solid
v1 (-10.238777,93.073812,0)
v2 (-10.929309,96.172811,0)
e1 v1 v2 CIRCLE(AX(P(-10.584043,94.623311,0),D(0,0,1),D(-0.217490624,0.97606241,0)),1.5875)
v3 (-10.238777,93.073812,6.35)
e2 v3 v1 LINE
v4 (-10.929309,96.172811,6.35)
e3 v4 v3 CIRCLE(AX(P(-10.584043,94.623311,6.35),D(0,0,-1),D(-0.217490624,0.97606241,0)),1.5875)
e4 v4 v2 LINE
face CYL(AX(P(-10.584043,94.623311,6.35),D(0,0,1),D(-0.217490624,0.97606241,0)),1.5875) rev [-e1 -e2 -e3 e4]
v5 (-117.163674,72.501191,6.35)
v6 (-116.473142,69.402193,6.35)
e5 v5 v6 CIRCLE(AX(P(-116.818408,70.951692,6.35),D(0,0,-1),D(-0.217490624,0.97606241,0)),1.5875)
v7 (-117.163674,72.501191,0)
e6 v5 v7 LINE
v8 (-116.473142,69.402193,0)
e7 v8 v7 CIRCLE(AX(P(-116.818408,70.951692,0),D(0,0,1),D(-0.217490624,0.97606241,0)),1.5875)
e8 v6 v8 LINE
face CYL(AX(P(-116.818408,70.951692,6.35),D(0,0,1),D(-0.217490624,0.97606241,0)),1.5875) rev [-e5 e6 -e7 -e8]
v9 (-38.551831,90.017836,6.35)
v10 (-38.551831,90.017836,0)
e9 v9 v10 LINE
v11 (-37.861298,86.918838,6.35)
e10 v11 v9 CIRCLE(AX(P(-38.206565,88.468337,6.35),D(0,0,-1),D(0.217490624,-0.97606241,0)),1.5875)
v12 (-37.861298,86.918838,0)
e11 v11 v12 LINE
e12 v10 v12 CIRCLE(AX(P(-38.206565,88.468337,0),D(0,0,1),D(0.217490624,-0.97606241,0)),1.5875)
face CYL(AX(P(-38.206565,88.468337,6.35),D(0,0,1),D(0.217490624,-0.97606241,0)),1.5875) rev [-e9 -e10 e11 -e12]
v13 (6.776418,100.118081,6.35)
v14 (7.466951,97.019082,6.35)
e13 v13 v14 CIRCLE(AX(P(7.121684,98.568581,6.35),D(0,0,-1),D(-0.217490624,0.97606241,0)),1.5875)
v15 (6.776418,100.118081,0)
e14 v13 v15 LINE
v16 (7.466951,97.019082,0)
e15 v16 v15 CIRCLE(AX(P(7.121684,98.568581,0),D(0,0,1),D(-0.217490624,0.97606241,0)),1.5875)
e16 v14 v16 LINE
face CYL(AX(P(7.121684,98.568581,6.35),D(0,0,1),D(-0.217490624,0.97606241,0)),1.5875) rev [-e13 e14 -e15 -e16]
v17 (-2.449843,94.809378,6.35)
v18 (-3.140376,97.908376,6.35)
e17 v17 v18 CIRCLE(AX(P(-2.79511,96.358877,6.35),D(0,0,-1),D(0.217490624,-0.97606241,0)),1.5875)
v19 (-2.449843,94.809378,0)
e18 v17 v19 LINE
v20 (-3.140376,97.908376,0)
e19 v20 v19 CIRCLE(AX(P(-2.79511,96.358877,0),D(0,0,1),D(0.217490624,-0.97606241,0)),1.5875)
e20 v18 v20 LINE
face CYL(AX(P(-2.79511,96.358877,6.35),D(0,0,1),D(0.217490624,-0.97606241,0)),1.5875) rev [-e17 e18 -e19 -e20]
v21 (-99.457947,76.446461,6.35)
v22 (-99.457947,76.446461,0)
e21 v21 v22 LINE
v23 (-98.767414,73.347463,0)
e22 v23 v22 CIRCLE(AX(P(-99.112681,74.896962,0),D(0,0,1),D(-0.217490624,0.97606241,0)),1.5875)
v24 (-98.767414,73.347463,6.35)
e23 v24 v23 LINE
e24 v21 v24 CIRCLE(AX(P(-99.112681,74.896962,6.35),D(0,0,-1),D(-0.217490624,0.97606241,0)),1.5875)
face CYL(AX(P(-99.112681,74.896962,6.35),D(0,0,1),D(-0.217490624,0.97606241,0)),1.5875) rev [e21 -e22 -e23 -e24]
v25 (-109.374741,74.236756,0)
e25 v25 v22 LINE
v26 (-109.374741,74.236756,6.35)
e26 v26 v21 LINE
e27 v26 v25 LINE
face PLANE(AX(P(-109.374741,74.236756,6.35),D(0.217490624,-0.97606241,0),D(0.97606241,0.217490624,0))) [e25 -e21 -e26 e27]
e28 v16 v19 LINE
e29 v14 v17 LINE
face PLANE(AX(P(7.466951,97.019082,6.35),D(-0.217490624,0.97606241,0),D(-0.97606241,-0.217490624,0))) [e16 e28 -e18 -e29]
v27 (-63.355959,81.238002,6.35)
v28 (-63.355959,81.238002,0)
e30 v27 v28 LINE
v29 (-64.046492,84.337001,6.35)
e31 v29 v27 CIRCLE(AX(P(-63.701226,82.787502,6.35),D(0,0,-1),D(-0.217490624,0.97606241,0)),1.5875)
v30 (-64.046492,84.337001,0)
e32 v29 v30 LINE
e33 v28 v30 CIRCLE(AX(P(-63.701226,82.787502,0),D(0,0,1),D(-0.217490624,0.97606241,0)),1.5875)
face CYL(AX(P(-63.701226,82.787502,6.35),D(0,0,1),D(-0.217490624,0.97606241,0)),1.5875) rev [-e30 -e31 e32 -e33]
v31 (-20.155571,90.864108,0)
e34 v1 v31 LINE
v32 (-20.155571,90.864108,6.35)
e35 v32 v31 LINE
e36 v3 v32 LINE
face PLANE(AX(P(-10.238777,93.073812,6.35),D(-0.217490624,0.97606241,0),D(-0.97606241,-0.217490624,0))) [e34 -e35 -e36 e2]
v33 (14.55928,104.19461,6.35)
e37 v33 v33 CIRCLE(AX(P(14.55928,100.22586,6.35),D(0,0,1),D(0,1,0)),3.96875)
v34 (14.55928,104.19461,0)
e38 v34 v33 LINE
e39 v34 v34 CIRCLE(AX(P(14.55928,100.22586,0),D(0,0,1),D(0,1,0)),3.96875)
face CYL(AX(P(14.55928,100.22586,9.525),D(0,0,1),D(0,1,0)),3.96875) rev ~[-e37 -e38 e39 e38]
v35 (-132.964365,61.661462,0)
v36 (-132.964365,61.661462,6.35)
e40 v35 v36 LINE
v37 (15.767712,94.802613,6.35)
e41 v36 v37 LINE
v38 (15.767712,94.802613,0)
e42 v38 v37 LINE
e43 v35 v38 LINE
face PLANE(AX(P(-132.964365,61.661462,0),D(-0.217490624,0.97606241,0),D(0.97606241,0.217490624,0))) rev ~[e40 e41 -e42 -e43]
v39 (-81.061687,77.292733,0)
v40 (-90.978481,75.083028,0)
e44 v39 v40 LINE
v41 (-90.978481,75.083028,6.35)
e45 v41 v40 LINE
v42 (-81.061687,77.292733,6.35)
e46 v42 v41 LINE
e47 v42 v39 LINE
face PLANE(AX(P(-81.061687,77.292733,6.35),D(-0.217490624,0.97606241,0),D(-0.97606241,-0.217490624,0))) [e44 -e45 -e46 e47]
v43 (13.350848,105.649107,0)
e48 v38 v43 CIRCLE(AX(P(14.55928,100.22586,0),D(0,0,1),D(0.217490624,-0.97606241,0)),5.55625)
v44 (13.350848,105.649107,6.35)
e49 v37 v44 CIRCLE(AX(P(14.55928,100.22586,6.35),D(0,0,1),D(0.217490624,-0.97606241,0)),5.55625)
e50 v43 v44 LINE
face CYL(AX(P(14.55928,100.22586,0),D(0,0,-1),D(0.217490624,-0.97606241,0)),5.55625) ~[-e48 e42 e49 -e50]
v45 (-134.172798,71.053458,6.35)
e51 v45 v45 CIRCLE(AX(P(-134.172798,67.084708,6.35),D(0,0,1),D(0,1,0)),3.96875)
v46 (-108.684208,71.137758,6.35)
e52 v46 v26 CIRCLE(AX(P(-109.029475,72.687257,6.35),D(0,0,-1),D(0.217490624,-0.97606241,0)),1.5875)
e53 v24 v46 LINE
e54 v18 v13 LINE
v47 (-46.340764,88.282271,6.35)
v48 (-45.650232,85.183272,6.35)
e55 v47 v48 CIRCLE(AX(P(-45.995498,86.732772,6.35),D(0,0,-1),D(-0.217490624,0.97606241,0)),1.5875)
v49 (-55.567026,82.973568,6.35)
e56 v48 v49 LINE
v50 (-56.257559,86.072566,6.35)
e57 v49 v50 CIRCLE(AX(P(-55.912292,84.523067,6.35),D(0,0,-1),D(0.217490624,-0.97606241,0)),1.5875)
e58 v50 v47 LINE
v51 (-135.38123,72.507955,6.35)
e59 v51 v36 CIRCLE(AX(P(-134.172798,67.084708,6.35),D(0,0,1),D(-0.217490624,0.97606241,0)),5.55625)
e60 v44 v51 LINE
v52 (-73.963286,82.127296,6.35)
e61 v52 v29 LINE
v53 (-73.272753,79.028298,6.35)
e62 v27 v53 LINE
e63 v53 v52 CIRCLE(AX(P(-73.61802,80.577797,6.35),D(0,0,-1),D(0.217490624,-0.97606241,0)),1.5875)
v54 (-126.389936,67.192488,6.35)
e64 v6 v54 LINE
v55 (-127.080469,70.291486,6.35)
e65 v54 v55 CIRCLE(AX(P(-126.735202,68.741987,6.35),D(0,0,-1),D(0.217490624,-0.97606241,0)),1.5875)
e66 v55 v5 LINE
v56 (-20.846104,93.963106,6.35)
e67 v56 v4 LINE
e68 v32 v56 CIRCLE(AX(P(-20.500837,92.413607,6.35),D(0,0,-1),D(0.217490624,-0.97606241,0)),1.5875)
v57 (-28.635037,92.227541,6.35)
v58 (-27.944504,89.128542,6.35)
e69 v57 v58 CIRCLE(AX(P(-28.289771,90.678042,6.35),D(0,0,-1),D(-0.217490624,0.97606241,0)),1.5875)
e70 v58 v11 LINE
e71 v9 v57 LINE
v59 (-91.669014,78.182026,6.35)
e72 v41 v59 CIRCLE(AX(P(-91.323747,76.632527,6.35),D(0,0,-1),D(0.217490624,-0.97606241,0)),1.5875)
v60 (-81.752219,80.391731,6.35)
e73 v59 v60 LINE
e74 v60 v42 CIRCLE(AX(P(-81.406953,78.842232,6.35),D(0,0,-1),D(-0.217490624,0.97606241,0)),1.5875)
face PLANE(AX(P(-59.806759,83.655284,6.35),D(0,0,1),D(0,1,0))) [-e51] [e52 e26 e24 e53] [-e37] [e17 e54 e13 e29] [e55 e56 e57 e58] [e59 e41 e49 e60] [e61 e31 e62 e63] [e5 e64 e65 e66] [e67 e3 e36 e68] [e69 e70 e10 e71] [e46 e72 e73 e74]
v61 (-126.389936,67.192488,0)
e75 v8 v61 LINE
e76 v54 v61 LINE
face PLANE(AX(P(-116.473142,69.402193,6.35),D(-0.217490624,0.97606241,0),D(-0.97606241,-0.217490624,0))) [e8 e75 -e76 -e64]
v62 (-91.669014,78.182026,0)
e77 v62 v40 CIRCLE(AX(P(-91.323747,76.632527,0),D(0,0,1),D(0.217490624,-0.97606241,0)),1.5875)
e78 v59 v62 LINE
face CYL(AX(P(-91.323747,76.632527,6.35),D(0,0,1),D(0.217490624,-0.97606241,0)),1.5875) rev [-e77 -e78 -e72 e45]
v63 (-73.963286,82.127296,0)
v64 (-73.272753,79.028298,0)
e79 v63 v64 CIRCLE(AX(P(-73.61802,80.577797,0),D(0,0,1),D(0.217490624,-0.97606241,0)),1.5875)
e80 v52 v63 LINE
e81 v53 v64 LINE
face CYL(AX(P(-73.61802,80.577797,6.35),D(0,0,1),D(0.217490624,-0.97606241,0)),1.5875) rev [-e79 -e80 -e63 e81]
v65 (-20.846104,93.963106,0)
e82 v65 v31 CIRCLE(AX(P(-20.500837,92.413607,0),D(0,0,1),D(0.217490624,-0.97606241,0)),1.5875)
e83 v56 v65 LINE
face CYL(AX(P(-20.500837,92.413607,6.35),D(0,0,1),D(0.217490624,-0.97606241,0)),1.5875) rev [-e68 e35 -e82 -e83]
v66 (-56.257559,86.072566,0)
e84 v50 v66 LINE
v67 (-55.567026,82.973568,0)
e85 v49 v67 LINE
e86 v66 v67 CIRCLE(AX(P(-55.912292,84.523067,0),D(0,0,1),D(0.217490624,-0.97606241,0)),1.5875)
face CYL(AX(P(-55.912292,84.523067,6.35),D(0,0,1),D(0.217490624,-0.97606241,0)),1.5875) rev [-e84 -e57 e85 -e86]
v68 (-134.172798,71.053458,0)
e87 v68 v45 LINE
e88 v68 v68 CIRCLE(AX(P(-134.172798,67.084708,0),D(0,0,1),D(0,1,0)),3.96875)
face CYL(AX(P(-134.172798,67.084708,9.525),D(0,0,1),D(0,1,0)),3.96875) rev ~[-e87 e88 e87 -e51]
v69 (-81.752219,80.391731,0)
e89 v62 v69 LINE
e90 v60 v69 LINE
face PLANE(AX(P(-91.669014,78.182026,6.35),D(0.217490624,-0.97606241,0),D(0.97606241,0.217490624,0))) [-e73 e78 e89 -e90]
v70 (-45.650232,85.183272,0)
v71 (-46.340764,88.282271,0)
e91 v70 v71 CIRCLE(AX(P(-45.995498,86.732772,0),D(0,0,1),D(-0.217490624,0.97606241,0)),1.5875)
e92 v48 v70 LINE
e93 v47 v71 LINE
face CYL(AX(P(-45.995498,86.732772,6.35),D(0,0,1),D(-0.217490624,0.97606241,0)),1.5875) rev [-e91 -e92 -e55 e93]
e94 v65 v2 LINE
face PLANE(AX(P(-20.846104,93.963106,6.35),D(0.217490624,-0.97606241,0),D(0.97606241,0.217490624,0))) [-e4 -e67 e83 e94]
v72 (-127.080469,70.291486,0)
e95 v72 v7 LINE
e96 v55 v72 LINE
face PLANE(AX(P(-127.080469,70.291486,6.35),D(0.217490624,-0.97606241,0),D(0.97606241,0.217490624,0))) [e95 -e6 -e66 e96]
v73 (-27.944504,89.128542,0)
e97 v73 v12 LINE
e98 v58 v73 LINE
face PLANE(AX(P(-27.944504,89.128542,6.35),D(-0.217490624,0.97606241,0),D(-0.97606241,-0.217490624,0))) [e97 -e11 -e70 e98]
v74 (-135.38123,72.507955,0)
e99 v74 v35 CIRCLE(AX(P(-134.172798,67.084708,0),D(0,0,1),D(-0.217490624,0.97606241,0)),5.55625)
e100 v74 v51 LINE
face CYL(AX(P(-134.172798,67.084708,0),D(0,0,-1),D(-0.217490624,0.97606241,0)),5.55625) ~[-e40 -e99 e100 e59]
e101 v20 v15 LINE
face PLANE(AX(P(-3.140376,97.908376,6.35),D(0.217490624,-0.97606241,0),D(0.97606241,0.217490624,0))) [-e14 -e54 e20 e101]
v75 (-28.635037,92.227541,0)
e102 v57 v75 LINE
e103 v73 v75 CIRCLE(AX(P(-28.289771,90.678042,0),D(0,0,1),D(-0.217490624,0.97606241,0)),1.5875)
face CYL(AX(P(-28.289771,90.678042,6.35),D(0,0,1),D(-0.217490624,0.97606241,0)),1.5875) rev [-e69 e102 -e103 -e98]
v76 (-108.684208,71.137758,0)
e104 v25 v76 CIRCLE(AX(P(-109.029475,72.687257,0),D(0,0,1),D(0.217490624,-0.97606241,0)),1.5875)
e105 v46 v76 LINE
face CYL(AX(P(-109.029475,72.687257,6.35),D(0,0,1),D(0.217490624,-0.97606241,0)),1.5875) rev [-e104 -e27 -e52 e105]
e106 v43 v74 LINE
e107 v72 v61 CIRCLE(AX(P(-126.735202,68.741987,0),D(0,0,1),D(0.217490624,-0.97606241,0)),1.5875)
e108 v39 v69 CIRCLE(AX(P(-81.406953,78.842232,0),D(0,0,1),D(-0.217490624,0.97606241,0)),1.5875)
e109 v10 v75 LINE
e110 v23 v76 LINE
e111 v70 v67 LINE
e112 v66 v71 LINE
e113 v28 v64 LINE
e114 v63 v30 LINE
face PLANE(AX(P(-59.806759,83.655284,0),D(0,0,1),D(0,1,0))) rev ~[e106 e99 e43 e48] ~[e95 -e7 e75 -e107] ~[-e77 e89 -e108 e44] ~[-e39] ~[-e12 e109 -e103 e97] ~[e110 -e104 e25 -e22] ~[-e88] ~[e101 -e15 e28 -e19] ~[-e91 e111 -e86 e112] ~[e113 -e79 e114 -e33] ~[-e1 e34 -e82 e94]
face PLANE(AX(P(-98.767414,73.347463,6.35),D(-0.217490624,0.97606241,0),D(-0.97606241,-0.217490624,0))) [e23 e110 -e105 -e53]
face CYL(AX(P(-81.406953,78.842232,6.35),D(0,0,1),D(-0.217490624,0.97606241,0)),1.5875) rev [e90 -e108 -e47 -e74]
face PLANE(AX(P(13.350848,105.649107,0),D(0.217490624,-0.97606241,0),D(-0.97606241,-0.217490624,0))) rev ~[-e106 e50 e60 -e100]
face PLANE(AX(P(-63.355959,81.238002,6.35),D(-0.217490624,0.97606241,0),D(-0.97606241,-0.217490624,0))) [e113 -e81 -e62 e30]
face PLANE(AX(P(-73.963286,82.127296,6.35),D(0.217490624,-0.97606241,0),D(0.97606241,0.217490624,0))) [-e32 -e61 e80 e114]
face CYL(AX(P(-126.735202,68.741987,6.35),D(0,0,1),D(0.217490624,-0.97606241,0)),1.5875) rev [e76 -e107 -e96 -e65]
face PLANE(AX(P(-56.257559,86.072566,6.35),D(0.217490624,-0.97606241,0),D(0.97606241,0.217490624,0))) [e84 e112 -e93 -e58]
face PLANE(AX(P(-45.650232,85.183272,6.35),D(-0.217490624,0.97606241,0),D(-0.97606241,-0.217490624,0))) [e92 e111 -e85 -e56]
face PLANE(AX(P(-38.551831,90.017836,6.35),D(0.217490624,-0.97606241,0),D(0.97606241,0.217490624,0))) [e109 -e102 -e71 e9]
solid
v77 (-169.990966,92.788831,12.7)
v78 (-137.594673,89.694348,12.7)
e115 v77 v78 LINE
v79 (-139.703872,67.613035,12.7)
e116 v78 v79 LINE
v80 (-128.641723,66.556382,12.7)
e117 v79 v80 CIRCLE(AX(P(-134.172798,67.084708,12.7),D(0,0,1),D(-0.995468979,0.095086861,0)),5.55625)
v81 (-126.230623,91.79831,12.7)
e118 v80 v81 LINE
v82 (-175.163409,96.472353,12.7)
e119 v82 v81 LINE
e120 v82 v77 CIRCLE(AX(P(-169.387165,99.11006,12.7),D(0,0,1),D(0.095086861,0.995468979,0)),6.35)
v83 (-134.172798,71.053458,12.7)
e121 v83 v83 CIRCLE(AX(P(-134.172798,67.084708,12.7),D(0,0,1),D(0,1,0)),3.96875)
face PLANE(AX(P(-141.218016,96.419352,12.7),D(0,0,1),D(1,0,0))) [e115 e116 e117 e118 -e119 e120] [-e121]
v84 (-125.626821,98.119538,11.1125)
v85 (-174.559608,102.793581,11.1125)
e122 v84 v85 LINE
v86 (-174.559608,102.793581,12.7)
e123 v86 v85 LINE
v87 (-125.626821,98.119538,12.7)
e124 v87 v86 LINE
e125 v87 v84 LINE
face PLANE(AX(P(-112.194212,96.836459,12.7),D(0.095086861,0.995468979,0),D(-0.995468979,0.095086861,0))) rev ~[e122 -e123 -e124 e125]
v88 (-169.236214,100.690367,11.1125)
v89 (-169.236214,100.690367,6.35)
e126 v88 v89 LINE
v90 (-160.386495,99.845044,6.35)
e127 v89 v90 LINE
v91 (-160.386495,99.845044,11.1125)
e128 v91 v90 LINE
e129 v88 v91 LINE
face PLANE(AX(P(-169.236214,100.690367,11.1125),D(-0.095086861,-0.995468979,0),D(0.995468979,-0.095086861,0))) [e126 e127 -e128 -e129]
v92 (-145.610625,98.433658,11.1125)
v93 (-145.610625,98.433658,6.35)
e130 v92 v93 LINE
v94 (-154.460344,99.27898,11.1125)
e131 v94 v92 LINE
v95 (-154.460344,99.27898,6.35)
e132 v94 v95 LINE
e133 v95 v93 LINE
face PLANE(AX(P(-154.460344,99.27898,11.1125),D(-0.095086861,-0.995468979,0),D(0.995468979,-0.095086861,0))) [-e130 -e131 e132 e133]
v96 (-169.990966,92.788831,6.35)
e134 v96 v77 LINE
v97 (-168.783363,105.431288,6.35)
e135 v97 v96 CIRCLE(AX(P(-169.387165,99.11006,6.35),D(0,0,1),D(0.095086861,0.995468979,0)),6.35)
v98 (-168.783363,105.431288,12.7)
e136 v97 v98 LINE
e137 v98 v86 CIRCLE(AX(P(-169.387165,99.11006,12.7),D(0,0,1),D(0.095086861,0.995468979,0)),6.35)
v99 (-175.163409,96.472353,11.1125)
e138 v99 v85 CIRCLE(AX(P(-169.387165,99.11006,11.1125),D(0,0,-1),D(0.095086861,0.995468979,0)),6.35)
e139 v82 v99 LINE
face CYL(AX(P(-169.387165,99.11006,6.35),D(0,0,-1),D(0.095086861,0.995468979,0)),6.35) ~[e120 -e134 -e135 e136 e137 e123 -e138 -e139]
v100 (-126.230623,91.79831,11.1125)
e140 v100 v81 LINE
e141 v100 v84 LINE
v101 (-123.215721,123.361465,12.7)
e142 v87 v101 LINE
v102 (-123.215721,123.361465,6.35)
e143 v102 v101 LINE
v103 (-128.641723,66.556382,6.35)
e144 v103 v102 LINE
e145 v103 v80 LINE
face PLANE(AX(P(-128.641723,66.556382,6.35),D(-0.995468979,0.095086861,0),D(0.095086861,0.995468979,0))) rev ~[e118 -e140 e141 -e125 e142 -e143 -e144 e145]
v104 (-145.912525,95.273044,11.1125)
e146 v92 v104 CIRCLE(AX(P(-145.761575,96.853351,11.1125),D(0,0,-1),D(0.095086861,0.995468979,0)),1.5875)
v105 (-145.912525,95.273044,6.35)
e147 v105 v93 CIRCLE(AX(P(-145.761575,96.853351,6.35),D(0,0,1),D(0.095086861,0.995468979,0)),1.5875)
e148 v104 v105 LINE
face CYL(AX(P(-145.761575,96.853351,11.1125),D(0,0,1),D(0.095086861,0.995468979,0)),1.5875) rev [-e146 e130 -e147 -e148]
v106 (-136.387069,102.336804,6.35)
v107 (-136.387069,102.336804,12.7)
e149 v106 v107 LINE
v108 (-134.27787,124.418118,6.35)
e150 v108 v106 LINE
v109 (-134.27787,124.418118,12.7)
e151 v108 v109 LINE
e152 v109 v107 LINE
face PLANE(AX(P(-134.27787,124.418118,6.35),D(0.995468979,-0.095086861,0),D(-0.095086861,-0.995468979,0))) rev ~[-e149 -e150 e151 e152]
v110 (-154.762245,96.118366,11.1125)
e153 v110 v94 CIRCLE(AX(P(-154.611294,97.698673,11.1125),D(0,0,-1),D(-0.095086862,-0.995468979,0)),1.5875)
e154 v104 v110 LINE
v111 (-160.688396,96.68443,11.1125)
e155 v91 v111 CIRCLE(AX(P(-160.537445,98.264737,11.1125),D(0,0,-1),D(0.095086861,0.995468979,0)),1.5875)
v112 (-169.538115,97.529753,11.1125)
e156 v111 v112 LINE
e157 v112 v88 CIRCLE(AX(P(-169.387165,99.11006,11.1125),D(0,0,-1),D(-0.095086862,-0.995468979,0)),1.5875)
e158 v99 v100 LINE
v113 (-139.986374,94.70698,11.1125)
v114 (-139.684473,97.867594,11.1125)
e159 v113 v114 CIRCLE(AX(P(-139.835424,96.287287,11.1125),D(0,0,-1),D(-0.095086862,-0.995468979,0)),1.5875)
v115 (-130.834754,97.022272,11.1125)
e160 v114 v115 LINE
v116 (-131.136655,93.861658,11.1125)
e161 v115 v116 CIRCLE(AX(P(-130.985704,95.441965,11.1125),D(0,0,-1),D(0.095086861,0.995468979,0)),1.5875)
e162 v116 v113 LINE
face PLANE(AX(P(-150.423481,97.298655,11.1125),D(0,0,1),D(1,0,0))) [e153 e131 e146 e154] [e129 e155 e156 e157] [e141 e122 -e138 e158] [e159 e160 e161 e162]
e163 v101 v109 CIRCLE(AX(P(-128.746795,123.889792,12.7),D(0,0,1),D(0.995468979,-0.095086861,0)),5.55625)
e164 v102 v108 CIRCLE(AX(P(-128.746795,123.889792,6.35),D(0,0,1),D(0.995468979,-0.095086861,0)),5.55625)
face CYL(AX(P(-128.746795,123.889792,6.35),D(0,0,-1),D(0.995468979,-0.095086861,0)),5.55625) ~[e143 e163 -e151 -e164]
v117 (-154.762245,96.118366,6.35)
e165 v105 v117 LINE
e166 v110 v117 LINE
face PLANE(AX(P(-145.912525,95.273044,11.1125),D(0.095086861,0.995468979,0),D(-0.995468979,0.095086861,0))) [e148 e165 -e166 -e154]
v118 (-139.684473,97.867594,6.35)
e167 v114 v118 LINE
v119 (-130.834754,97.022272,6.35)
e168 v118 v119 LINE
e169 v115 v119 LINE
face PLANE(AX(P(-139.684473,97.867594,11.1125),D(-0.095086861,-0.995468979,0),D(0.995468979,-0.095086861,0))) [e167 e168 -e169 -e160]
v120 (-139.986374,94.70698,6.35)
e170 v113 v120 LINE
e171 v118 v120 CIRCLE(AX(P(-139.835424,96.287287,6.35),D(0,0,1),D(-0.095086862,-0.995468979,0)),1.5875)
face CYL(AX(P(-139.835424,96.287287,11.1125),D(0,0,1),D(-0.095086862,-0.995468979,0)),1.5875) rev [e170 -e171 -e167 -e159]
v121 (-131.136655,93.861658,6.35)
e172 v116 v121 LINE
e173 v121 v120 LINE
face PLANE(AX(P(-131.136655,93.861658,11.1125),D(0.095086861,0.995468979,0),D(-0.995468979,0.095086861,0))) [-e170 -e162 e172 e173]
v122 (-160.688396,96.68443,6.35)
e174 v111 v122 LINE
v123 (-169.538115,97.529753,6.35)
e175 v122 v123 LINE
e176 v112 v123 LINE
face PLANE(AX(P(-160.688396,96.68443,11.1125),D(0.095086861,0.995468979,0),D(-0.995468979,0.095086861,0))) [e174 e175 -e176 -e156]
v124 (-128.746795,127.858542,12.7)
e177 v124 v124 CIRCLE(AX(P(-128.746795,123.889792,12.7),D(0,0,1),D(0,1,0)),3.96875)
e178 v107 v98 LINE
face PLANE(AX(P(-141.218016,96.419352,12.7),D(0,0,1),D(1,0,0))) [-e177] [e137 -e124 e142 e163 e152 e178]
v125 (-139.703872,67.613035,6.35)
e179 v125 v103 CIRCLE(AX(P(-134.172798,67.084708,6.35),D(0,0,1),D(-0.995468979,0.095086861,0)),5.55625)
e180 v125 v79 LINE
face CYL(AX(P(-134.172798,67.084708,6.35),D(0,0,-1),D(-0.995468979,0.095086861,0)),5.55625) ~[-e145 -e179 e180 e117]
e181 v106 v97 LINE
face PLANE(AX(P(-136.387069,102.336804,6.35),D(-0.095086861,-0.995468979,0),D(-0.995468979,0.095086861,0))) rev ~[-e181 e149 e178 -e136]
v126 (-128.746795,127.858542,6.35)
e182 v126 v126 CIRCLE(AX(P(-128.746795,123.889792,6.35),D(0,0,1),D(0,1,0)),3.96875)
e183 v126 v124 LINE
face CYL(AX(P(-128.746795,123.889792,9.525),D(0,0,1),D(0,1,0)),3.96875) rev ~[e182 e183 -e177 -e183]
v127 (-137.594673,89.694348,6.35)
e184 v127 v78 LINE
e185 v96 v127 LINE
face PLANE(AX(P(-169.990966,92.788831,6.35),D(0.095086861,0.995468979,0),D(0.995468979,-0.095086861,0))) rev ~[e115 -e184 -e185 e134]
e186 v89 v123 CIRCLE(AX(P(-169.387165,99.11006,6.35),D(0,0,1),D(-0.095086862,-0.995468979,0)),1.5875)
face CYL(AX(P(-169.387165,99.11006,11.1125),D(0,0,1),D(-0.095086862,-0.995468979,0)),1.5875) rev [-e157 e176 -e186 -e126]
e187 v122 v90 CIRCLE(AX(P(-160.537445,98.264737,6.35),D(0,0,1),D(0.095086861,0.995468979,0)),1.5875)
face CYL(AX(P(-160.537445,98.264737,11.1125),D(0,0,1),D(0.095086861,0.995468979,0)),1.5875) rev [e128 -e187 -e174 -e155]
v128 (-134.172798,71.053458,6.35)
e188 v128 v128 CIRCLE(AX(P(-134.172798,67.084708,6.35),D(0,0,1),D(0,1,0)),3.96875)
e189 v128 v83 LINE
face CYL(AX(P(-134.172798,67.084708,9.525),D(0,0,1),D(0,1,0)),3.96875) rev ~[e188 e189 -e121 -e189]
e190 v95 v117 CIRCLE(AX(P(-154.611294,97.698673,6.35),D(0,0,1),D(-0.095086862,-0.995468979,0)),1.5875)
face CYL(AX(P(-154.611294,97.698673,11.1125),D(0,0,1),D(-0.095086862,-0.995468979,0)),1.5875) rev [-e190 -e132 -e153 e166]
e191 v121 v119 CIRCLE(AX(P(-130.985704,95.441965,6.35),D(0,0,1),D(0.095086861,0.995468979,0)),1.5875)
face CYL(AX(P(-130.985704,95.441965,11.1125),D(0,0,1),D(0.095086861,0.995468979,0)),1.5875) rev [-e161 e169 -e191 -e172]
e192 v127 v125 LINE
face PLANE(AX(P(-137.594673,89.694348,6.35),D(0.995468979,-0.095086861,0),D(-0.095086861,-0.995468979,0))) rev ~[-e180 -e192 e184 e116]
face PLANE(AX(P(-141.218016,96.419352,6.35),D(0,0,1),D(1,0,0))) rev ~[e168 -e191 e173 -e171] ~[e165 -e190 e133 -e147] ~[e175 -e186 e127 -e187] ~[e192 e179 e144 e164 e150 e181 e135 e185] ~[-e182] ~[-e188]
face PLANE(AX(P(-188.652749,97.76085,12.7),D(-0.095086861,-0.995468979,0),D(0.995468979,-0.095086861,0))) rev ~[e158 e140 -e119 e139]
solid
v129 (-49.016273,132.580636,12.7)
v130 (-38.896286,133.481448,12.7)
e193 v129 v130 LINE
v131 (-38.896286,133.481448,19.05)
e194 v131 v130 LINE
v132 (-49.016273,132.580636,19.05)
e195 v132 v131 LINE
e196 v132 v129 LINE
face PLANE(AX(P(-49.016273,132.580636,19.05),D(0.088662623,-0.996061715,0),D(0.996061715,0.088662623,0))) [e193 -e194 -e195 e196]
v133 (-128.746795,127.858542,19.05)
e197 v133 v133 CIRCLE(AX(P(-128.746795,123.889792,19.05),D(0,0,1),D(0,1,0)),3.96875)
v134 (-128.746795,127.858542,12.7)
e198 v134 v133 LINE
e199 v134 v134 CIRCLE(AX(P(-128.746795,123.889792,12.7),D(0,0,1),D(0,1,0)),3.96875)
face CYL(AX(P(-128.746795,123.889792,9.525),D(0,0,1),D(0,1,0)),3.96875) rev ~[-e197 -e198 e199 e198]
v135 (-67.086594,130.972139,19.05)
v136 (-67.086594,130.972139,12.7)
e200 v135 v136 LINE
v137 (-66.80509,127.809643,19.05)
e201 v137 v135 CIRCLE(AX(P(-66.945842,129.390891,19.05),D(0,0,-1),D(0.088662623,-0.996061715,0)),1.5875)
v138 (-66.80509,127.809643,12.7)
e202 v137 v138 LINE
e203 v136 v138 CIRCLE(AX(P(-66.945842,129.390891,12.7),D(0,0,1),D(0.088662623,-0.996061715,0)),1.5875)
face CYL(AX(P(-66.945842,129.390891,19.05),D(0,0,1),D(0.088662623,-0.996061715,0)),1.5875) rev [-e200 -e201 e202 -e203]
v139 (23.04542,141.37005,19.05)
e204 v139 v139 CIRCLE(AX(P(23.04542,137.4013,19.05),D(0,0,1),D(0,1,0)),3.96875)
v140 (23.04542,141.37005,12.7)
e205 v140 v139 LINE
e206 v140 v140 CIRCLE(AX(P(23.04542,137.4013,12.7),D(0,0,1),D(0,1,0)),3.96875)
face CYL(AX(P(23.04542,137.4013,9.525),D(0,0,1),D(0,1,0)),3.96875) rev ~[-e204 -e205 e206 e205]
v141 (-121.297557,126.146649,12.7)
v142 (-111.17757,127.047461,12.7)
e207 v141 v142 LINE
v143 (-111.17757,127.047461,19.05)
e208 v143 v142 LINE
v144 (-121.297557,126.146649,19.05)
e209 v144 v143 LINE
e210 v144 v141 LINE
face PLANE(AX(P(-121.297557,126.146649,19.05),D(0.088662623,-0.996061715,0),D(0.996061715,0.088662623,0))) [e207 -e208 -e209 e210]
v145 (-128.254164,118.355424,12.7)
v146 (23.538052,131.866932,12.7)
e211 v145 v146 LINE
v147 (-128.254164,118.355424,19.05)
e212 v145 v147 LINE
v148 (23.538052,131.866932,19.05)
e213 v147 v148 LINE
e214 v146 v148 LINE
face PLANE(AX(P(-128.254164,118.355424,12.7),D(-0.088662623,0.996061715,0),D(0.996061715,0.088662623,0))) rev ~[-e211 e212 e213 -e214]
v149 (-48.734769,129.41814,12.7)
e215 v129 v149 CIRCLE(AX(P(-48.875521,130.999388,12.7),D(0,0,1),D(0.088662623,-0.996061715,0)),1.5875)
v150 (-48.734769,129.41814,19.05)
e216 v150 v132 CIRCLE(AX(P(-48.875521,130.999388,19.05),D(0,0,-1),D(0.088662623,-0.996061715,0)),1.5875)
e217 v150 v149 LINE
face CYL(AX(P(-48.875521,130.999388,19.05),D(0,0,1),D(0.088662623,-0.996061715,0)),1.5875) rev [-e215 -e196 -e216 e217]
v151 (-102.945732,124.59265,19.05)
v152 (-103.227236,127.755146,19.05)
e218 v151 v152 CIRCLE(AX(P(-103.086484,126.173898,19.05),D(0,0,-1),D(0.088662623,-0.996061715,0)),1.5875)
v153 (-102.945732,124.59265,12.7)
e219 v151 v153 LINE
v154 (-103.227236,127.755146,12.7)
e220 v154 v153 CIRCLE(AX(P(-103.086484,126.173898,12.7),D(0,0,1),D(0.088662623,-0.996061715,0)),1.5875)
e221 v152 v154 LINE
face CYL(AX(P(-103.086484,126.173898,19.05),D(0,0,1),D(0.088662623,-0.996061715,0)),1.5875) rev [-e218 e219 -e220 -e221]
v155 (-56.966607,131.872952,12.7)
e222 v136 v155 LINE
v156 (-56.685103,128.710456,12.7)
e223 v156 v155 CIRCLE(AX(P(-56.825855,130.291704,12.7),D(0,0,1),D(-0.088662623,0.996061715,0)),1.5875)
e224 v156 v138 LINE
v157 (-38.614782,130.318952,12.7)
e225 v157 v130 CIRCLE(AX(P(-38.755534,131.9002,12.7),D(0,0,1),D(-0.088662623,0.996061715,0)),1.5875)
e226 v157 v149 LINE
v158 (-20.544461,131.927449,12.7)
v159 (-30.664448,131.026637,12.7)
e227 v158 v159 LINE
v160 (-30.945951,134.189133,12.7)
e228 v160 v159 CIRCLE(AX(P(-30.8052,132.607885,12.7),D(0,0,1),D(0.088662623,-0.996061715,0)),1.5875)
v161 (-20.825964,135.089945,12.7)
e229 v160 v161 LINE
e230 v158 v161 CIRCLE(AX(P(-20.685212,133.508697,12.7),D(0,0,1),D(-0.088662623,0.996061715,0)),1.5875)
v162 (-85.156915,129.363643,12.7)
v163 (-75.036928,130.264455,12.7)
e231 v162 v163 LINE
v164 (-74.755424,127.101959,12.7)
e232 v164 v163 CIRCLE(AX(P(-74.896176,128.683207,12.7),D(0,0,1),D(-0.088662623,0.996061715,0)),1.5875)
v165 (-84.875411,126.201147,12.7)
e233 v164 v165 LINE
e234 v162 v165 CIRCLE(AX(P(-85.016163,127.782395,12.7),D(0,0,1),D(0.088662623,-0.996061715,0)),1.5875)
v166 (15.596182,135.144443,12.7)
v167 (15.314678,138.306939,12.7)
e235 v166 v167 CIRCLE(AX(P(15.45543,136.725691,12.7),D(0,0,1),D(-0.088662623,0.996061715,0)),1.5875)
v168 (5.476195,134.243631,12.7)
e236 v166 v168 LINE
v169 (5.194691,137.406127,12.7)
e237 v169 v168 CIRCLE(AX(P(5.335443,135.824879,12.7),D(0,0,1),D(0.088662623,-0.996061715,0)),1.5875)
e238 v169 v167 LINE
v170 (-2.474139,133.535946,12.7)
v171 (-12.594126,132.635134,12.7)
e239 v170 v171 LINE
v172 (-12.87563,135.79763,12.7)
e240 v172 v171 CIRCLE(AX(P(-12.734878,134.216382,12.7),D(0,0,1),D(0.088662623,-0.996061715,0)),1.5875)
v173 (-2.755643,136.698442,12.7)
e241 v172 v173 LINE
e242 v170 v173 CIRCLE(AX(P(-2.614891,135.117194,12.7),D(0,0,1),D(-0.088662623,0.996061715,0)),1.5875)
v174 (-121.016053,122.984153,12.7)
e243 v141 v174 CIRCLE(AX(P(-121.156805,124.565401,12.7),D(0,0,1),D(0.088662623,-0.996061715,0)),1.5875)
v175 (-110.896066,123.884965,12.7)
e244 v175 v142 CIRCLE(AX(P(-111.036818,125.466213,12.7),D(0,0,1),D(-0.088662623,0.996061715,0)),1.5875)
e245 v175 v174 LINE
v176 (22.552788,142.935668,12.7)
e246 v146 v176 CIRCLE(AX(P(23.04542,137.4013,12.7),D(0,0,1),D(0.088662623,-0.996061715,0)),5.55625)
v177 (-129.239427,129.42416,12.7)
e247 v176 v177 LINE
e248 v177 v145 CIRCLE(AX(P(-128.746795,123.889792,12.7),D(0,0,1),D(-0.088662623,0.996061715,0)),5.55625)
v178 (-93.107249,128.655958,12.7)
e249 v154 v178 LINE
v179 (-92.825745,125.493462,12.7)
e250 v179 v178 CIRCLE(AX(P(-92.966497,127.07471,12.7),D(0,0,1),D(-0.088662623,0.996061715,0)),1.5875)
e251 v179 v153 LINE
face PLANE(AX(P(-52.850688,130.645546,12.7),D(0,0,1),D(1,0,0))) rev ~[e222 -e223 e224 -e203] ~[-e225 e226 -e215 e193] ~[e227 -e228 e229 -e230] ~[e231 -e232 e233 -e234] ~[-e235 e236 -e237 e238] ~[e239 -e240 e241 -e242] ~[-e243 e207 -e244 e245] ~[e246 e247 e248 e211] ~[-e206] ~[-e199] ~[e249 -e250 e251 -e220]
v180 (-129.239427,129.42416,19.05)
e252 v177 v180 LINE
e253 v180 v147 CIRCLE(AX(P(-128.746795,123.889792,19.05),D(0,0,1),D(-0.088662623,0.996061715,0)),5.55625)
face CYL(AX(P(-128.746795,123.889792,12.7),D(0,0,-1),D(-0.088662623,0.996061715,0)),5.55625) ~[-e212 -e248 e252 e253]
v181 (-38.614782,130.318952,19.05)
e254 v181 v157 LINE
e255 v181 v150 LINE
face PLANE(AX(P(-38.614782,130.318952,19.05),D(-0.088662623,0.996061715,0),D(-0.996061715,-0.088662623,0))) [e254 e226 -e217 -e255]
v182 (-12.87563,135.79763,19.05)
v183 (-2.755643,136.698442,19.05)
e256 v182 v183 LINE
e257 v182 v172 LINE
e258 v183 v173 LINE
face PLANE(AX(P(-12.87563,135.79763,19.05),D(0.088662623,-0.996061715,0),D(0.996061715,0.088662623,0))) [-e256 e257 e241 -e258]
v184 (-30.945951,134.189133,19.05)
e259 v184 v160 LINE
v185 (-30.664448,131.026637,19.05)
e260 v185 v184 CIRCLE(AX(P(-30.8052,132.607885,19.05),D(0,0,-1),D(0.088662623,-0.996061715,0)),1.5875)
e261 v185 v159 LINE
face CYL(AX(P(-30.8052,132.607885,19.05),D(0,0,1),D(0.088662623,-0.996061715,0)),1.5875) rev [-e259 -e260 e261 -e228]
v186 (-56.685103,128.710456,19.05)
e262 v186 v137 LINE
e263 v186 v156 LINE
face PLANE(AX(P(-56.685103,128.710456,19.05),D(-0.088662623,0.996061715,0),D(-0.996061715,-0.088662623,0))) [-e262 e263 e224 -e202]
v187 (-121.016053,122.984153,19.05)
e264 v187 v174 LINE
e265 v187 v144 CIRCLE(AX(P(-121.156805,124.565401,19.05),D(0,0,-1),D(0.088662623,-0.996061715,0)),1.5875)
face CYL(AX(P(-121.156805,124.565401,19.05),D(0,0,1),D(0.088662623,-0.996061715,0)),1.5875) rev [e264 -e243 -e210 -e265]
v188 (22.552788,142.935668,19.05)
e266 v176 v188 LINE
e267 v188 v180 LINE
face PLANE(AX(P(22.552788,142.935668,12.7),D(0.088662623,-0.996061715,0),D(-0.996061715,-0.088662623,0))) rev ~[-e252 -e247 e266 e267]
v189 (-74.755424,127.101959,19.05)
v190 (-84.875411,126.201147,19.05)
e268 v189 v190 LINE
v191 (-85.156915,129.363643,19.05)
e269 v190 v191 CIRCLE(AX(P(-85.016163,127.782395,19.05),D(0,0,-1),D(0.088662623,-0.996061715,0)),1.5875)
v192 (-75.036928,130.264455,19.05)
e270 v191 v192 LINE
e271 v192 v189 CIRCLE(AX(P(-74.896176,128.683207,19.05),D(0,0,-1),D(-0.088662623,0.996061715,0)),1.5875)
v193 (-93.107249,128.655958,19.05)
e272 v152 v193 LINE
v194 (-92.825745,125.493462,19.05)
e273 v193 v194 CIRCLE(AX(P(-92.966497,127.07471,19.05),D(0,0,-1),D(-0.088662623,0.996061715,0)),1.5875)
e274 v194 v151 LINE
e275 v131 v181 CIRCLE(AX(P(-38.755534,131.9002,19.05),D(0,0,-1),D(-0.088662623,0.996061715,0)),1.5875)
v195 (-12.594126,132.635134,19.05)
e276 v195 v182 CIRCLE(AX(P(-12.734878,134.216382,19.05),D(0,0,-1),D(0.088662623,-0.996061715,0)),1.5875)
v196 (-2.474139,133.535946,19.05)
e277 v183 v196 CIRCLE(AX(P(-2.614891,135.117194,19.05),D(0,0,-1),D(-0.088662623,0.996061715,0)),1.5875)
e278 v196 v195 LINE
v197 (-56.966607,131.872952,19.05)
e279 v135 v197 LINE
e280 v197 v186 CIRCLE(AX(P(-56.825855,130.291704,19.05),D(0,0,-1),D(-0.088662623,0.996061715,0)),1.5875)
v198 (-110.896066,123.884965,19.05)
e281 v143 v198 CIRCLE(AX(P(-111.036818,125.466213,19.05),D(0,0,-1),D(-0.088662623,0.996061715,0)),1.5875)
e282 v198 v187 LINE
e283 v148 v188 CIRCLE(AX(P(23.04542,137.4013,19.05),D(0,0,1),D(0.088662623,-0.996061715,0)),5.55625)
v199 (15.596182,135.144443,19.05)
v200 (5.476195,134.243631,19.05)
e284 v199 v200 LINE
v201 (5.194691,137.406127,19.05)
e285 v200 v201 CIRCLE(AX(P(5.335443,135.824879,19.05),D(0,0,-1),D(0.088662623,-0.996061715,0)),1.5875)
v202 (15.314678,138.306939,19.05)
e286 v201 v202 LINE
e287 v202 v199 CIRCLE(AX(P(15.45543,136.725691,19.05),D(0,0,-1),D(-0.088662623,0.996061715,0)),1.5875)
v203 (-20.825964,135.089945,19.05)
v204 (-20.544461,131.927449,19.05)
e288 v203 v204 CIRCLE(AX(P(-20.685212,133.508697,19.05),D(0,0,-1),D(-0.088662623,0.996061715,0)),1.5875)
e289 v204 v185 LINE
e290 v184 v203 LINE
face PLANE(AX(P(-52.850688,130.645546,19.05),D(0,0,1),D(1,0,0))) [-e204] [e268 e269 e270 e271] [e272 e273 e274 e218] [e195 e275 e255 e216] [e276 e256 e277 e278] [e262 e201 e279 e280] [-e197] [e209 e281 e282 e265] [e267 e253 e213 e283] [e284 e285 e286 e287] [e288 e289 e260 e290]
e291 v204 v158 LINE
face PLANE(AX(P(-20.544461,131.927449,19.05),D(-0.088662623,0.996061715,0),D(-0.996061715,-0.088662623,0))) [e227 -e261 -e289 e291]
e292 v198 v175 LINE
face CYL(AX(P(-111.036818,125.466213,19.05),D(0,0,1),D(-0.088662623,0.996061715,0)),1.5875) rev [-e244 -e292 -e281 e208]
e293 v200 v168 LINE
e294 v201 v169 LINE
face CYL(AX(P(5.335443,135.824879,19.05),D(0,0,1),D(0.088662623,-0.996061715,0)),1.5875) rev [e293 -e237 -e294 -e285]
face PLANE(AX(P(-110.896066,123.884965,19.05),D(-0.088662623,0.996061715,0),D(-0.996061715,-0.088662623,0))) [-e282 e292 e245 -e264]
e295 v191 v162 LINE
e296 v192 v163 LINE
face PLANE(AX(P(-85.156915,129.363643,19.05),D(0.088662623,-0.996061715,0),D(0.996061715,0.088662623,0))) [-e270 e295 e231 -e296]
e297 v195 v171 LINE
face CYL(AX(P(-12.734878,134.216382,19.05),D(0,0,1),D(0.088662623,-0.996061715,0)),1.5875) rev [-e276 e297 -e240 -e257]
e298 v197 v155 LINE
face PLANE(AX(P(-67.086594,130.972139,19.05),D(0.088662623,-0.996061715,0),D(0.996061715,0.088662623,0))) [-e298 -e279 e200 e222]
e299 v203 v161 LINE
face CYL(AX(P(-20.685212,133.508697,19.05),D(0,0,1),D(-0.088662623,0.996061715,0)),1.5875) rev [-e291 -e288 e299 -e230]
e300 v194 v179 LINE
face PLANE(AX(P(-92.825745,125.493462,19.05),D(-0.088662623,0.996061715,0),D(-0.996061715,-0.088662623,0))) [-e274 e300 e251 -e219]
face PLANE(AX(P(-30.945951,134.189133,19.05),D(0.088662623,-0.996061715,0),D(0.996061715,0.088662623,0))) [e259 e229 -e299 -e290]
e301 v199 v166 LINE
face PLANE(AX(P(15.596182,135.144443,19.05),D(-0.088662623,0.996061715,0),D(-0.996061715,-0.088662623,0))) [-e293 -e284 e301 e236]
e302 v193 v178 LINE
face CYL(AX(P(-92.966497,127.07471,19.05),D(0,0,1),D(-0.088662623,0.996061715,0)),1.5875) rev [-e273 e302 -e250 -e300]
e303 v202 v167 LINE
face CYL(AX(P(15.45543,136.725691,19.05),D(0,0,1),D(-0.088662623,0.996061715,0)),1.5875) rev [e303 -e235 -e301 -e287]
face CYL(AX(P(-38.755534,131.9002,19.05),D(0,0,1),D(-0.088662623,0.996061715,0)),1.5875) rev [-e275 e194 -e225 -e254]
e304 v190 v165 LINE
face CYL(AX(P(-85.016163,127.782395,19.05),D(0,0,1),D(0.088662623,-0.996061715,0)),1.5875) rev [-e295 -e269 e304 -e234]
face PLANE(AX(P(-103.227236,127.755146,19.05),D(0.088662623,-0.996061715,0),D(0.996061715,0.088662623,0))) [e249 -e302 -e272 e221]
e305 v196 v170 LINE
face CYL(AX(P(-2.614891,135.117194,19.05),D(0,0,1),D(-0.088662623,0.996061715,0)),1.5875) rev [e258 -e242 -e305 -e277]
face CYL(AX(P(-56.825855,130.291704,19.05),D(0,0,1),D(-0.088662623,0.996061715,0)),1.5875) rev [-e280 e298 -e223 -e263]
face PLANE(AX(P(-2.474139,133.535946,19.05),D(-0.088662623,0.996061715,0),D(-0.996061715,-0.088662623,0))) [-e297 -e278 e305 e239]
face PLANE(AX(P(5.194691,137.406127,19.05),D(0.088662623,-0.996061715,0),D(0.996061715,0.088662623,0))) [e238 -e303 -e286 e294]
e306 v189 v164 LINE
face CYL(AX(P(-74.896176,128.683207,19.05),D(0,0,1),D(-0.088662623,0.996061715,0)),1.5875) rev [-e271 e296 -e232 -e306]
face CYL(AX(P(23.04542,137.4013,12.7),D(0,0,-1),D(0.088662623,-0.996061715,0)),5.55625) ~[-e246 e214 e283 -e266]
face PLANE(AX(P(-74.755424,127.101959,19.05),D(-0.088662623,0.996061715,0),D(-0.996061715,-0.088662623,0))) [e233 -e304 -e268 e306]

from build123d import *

# Parameters (mm, degrees)
INPUTLINK_DEPTH                         = 6.35
COUPLERLINK_DEPTH                       = 6.35
FOLLOWERLINK_DEPTH                      = 6.35
CUT_EXTRUDE1_DEPTH                      = 1.5875
SKETCH6_W                               = 3.96875
SKETCH6_H                               = 19.05
F_5_16_0_3125_DIAMETER_HOLE1_AT_2_COUNT = 2
F_5_16_0_3125_DIAMETER_HOLE1_AT_2_PITCH = 152.37968
F_5_16_0_3125_DIAMETER_HOLE1_AT_3_COUNT = 2
F_5_16_0_3125_DIAMETER_HOLE1_AT_3_PITCH = 145.246731087
F_5_16_0_3125_DIAMETER_HOLE1_AT_4_COUNT = 2
F_5_16_0_3125_DIAMETER_HOLE1_AT_4_PITCH = 38.131717917
CUT_EXTRUDE2_DEPTH                      = 227.895795764
LPATTERN1_COUNT                         = 8
LPATTERN1_PITCH                         = 18.139954286
CUT_EXTRUDE3_DEPTH                      = 228.339645982
LPATTERN2_COUNT                         = 8
LPATTERN2_PITCH                         = 18.141768571
CUT_EXTRUDE5_DEPTH                      = 227.812477152
LPATTERN3_COUNT                         = 3
LPATTERN3_PITCH                         = 14.843125


with BuildPart() as part:
    # Sketch2 → InputLink (new body)
    with BuildSketch(Plane(origin=(0, 0, 0), x_dir=(0, 1, 0), z_dir=(0, 0, 1))):
        with BuildLine():
            Line((61.661461605, 132.964365452), (94.802613233, -15.767712277))
            ThreePointArc((94.802613233, -15.767712277), (101.434292277, -19.982526767), (105.649106767, -13.350847723))
            Line((105.649106767, -13.350847723), (72.507955138, 135.381230007))
            ThreePointArc((72.507955138, 135.381230007), (65.876276094, 139.596044496), (61.661461605, 132.964365452))
        make_face()
    extrude(amount=INPUTLINK_DEPTH)

    # Sketch6 → 5/16 (0.3125) Diameter Hole1 (revolve, cut)
    with BuildSketch(Plane(origin=(14.55928, 100.22586, 0), x_dir=(0, 1, 0), z_dir=(1, 0, 0))):
        with Locations((1.984375, 9.525)):
            Rectangle(SKETCH6_W, SKETCH6_H)
    f_5_16_0_3125_diameter_hole1 = revolve(axis=Axis((14.55928, 100.22586, -6.35), (0, 0, 1)), mode=Mode.SUBTRACT)


with BuildPart() as body_2:
    # Sketch3 → CouplerLink (new body)
    with BuildSketch(Plane.XY.offset(6.35)):
        with BuildLine():
            Line((-128.641723213, 66.556381999), (-123.215720795, 123.361465467))
            ThreePointArc((-123.215720795, 123.361465467), (-128.218468939, 129.420866356), (-134.277869828, 124.418118212))
            Line((-134.277869828, 124.418118212), (-136.387069468, 102.336804497))
            Line((-136.387069468, 102.336804497), (-168.783363065, 105.431287537))
            ThreePointArc((-168.783363065, 105.431287537), (-175.708392652, 99.713861087), (-169.990966202, 92.788831499))
            Line((-169.990966202, 92.788831499), (-137.594672606, 89.69434846))
            Line((-137.594672606, 89.69434846), (-139.703872246, 67.613034744))
            ThreePointArc((-139.703872246, 67.613034744), (-134.701124102, 61.553633855), (-128.641723213, 66.556381999))
        make_face()
    extrude(amount=COUPLERLINK_DEPTH)

    # Sketch5 → Cut-Extrude1 (cut)
    with BuildSketch(Plane.XY.offset(12.7)):
        with BuildLine():
            Line((-112.19421168, 96.836459409), (-188.048947905, 104.082078234))
            ThreePointArc((-188.048947905, 104.082078234), (-191.511462699, 101.223365009), (-188.652749474, 97.760850215))
            Line((-188.652749474, 97.760850215), (-112.798013249, 90.51523139))
            ThreePointArc((-112.798013249, 90.51523139), (-109.335498455, 93.373944615), (-112.19421168, 96.836459409))
        make_face()
    extrude(amount=-CUT_EXTRUDE1_DEPTH, mode=Mode.SUBTRACT)


with BuildPart() as body_3:
    # Sketch4 → FollowerLink (new body)
    with BuildSketch(Plane.XY.offset(12.7)):
        with BuildLine():
            Line((-128.254163612, 118.355423938), (23.5380517, 131.866932098))
            ThreePointArc((23.5380517, 131.866932098), (28.579787902, 137.8939317), (22.5527883, 142.935667902))
            Line((22.5527883, 142.935667902), (-129.239427012, 129.424159741))
            ThreePointArc((-129.239427012, 129.424159741), (-134.281163214, 123.39716014), (-128.254163612, 118.355423938))
        make_face()
    extrude(amount=FOLLOWERLINK_DEPTH)


with BuildPart() as f_5_16_0_3125_diameter_hole1_at_2_tool:
    # 5/16 (0.3125) Diameter Hole1 at 2: 5/16 (0.3125) Diameter Hole1 ×2
    with Locations(*[Vector(-0.9760624102191325, -0.2174906236075887, 0) * (i * F_5_16_0_3125_DIAMETER_HOLE1_AT_2_PITCH) for i in range(1, F_5_16_0_3125_DIAMETER_HOLE1_AT_2_COUNT)]):
        add(f_5_16_0_3125_diameter_hole1)


with BuildPart() as part_1:
    add(part.part)

    # 5/16 (0.3125) Diameter Hole1 at 2: cut by f_5_16_0_3125_diameter_hole1_at_2_tool
    add(f_5_16_0_3125_diameter_hole1_at_2_tool.part, mode=Mode.SUBTRACT)

    # Sketch7 → Cut-Extrude2 (cut, through all)
    with BuildSketch(Plane.XY.offset(6.35)):
        with BuildLine():
            Line((-127.080468528, 70.291486), (-117.163674441, 72.501190736))
            ThreePointArc((-117.163674441, 72.501190736), (-115.268908999, 71.296958024), (-116.473141711, 69.402192583))
            Line((-116.473141711, 69.402192583), (-126.389935798, 67.192487847))
            ThreePointArc((-126.389935798, 67.192487847), (-128.28470124, 68.396720559), (-127.080468528, 70.291486))
        make_face()
    cut_extrude2 = extrude(amount=-CUT_EXTRUDE2_DEPTH, mode=Mode.SUBTRACT)

    # LPattern1: Cut-Extrude2 ×8
    with Locations(*[Vector(0.9760624102191326, 0.2174906236075885, 0) * (i * LPATTERN1_PITCH) for i in range(1, LPATTERN1_COUNT)]):
        add(cut_extrude2, mode=Mode.SUBTRACT)


with BuildPart() as body_2_1:
    add(body_2.part)

    # 5/16 (0.3125) Diameter Hole1 at 2: cut by f_5_16_0_3125_diameter_hole1_at_2_tool
    add(f_5_16_0_3125_diameter_hole1_at_2_tool.part, mode=Mode.SUBTRACT)


with BuildPart() as f_5_16_0_3125_diameter_hole1_at_3_tool:
    # 5/16 (0.3125) Diameter Hole1 at 3: 5/16 (0.3125) Diameter Hole1 ×2
    with Locations(*[Vector(-0.9866389022291044, 0.16292230236572197, 0) * (i * F_5_16_0_3125_DIAMETER_HOLE1_AT_3_PITCH) for i in range(1, F_5_16_0_3125_DIAMETER_HOLE1_AT_3_COUNT)]):
        add(f_5_16_0_3125_diameter_hole1)


with BuildPart() as body_2_2:
    add(body_2_1.part)

    # 5/16 (0.3125) Diameter Hole1 at 3: cut by f_5_16_0_3125_diameter_hole1_at_3_tool
    add(f_5_16_0_3125_diameter_hole1_at_3_tool.part, mode=Mode.SUBTRACT)

    # Sketch9 → Cut-Extrude5 (cut, through all)
    with BuildSketch(Plane.XY.offset(11.1125)):
        with BuildLine():
            Line((-160.688395799, 96.684430317), (-169.538115026, 97.529752513))
            ThreePointArc((-169.538115026, 97.529752513), (-170.967471638, 99.26100991), (-169.236214241, 100.690366523))
            Line((-169.236214241, 100.690366523), (-160.386495015, 99.845044327))
            ThreePointArc((-160.386495015, 99.845044327), (-158.957138402, 98.11378693), (-160.688395799, 96.684430317))
        make_face()
    cut_extrude5 = extrude(amount=-CUT_EXTRUDE5_DEPTH, mode=Mode.SUBTRACT)

    # LPattern3: Cut-Extrude5 ×3
    with Locations(*[Vector(0.9954689793376904, -0.09508686121845066, 0) * (i * LPATTERN3_PITCH) for i in range(1, LPATTERN3_COUNT)]):
        add(cut_extrude5, mode=Mode.SUBTRACT)


with BuildPart() as body_3_1:
    add(body_3.part)

    # 5/16 (0.3125) Diameter Hole1 at 3: cut by f_5_16_0_3125_diameter_hole1_at_3_tool
    add(f_5_16_0_3125_diameter_hole1_at_3_tool.part, mode=Mode.SUBTRACT)

    # 5/16 (0.3125) Diameter Hole1 at 4: 5/16 (0.3125) Diameter Hole1 ×2
    with Locations(*[Vector(0.22254806401579308, 0.9749217195256358, 0) * (i * F_5_16_0_3125_DIAMETER_HOLE1_AT_4_PITCH) for i in range(1, F_5_16_0_3125_DIAMETER_HOLE1_AT_4_COUNT)]):
        add(f_5_16_0_3125_diameter_hole1, mode=Mode.SUBTRACT)

    # Sketch8 → Cut-Extrude3 (cut, through all)
    with BuildSketch(Plane.XY.offset(19.05)):
        with BuildLine():
            Line((-110.896066112, 123.884965308), (-121.016053133, 122.984153056))
            ThreePointArc((-121.016053133, 122.984153056), (-122.738053019, 124.424649114), (-121.297556961, 126.146649))
            Line((-121.297556961, 126.146649), (-111.177569941, 127.047461251))
            ThreePointArc((-111.177569941, 127.047461251), (-109.455570055, 125.606965194), (-110.896066112, 123.884965308))
        make_face()
    cut_extrude3 = extrude(amount=-CUT_EXTRUDE3_DEPTH, mode=Mode.SUBTRACT)

    # LPattern2: Cut-Extrude3 ×8
    with Locations(*[Vector(0.9960617145812697, 0.08866262315892334, 0) * (i * LPATTERN2_PITCH) for i in range(1, LPATTERN2_COUNT)]):
        add(cut_extrude3, mode=Mode.SUBTRACT)


solid = Compound([part_1.part, body_2_2.part, body_3_1.part])
